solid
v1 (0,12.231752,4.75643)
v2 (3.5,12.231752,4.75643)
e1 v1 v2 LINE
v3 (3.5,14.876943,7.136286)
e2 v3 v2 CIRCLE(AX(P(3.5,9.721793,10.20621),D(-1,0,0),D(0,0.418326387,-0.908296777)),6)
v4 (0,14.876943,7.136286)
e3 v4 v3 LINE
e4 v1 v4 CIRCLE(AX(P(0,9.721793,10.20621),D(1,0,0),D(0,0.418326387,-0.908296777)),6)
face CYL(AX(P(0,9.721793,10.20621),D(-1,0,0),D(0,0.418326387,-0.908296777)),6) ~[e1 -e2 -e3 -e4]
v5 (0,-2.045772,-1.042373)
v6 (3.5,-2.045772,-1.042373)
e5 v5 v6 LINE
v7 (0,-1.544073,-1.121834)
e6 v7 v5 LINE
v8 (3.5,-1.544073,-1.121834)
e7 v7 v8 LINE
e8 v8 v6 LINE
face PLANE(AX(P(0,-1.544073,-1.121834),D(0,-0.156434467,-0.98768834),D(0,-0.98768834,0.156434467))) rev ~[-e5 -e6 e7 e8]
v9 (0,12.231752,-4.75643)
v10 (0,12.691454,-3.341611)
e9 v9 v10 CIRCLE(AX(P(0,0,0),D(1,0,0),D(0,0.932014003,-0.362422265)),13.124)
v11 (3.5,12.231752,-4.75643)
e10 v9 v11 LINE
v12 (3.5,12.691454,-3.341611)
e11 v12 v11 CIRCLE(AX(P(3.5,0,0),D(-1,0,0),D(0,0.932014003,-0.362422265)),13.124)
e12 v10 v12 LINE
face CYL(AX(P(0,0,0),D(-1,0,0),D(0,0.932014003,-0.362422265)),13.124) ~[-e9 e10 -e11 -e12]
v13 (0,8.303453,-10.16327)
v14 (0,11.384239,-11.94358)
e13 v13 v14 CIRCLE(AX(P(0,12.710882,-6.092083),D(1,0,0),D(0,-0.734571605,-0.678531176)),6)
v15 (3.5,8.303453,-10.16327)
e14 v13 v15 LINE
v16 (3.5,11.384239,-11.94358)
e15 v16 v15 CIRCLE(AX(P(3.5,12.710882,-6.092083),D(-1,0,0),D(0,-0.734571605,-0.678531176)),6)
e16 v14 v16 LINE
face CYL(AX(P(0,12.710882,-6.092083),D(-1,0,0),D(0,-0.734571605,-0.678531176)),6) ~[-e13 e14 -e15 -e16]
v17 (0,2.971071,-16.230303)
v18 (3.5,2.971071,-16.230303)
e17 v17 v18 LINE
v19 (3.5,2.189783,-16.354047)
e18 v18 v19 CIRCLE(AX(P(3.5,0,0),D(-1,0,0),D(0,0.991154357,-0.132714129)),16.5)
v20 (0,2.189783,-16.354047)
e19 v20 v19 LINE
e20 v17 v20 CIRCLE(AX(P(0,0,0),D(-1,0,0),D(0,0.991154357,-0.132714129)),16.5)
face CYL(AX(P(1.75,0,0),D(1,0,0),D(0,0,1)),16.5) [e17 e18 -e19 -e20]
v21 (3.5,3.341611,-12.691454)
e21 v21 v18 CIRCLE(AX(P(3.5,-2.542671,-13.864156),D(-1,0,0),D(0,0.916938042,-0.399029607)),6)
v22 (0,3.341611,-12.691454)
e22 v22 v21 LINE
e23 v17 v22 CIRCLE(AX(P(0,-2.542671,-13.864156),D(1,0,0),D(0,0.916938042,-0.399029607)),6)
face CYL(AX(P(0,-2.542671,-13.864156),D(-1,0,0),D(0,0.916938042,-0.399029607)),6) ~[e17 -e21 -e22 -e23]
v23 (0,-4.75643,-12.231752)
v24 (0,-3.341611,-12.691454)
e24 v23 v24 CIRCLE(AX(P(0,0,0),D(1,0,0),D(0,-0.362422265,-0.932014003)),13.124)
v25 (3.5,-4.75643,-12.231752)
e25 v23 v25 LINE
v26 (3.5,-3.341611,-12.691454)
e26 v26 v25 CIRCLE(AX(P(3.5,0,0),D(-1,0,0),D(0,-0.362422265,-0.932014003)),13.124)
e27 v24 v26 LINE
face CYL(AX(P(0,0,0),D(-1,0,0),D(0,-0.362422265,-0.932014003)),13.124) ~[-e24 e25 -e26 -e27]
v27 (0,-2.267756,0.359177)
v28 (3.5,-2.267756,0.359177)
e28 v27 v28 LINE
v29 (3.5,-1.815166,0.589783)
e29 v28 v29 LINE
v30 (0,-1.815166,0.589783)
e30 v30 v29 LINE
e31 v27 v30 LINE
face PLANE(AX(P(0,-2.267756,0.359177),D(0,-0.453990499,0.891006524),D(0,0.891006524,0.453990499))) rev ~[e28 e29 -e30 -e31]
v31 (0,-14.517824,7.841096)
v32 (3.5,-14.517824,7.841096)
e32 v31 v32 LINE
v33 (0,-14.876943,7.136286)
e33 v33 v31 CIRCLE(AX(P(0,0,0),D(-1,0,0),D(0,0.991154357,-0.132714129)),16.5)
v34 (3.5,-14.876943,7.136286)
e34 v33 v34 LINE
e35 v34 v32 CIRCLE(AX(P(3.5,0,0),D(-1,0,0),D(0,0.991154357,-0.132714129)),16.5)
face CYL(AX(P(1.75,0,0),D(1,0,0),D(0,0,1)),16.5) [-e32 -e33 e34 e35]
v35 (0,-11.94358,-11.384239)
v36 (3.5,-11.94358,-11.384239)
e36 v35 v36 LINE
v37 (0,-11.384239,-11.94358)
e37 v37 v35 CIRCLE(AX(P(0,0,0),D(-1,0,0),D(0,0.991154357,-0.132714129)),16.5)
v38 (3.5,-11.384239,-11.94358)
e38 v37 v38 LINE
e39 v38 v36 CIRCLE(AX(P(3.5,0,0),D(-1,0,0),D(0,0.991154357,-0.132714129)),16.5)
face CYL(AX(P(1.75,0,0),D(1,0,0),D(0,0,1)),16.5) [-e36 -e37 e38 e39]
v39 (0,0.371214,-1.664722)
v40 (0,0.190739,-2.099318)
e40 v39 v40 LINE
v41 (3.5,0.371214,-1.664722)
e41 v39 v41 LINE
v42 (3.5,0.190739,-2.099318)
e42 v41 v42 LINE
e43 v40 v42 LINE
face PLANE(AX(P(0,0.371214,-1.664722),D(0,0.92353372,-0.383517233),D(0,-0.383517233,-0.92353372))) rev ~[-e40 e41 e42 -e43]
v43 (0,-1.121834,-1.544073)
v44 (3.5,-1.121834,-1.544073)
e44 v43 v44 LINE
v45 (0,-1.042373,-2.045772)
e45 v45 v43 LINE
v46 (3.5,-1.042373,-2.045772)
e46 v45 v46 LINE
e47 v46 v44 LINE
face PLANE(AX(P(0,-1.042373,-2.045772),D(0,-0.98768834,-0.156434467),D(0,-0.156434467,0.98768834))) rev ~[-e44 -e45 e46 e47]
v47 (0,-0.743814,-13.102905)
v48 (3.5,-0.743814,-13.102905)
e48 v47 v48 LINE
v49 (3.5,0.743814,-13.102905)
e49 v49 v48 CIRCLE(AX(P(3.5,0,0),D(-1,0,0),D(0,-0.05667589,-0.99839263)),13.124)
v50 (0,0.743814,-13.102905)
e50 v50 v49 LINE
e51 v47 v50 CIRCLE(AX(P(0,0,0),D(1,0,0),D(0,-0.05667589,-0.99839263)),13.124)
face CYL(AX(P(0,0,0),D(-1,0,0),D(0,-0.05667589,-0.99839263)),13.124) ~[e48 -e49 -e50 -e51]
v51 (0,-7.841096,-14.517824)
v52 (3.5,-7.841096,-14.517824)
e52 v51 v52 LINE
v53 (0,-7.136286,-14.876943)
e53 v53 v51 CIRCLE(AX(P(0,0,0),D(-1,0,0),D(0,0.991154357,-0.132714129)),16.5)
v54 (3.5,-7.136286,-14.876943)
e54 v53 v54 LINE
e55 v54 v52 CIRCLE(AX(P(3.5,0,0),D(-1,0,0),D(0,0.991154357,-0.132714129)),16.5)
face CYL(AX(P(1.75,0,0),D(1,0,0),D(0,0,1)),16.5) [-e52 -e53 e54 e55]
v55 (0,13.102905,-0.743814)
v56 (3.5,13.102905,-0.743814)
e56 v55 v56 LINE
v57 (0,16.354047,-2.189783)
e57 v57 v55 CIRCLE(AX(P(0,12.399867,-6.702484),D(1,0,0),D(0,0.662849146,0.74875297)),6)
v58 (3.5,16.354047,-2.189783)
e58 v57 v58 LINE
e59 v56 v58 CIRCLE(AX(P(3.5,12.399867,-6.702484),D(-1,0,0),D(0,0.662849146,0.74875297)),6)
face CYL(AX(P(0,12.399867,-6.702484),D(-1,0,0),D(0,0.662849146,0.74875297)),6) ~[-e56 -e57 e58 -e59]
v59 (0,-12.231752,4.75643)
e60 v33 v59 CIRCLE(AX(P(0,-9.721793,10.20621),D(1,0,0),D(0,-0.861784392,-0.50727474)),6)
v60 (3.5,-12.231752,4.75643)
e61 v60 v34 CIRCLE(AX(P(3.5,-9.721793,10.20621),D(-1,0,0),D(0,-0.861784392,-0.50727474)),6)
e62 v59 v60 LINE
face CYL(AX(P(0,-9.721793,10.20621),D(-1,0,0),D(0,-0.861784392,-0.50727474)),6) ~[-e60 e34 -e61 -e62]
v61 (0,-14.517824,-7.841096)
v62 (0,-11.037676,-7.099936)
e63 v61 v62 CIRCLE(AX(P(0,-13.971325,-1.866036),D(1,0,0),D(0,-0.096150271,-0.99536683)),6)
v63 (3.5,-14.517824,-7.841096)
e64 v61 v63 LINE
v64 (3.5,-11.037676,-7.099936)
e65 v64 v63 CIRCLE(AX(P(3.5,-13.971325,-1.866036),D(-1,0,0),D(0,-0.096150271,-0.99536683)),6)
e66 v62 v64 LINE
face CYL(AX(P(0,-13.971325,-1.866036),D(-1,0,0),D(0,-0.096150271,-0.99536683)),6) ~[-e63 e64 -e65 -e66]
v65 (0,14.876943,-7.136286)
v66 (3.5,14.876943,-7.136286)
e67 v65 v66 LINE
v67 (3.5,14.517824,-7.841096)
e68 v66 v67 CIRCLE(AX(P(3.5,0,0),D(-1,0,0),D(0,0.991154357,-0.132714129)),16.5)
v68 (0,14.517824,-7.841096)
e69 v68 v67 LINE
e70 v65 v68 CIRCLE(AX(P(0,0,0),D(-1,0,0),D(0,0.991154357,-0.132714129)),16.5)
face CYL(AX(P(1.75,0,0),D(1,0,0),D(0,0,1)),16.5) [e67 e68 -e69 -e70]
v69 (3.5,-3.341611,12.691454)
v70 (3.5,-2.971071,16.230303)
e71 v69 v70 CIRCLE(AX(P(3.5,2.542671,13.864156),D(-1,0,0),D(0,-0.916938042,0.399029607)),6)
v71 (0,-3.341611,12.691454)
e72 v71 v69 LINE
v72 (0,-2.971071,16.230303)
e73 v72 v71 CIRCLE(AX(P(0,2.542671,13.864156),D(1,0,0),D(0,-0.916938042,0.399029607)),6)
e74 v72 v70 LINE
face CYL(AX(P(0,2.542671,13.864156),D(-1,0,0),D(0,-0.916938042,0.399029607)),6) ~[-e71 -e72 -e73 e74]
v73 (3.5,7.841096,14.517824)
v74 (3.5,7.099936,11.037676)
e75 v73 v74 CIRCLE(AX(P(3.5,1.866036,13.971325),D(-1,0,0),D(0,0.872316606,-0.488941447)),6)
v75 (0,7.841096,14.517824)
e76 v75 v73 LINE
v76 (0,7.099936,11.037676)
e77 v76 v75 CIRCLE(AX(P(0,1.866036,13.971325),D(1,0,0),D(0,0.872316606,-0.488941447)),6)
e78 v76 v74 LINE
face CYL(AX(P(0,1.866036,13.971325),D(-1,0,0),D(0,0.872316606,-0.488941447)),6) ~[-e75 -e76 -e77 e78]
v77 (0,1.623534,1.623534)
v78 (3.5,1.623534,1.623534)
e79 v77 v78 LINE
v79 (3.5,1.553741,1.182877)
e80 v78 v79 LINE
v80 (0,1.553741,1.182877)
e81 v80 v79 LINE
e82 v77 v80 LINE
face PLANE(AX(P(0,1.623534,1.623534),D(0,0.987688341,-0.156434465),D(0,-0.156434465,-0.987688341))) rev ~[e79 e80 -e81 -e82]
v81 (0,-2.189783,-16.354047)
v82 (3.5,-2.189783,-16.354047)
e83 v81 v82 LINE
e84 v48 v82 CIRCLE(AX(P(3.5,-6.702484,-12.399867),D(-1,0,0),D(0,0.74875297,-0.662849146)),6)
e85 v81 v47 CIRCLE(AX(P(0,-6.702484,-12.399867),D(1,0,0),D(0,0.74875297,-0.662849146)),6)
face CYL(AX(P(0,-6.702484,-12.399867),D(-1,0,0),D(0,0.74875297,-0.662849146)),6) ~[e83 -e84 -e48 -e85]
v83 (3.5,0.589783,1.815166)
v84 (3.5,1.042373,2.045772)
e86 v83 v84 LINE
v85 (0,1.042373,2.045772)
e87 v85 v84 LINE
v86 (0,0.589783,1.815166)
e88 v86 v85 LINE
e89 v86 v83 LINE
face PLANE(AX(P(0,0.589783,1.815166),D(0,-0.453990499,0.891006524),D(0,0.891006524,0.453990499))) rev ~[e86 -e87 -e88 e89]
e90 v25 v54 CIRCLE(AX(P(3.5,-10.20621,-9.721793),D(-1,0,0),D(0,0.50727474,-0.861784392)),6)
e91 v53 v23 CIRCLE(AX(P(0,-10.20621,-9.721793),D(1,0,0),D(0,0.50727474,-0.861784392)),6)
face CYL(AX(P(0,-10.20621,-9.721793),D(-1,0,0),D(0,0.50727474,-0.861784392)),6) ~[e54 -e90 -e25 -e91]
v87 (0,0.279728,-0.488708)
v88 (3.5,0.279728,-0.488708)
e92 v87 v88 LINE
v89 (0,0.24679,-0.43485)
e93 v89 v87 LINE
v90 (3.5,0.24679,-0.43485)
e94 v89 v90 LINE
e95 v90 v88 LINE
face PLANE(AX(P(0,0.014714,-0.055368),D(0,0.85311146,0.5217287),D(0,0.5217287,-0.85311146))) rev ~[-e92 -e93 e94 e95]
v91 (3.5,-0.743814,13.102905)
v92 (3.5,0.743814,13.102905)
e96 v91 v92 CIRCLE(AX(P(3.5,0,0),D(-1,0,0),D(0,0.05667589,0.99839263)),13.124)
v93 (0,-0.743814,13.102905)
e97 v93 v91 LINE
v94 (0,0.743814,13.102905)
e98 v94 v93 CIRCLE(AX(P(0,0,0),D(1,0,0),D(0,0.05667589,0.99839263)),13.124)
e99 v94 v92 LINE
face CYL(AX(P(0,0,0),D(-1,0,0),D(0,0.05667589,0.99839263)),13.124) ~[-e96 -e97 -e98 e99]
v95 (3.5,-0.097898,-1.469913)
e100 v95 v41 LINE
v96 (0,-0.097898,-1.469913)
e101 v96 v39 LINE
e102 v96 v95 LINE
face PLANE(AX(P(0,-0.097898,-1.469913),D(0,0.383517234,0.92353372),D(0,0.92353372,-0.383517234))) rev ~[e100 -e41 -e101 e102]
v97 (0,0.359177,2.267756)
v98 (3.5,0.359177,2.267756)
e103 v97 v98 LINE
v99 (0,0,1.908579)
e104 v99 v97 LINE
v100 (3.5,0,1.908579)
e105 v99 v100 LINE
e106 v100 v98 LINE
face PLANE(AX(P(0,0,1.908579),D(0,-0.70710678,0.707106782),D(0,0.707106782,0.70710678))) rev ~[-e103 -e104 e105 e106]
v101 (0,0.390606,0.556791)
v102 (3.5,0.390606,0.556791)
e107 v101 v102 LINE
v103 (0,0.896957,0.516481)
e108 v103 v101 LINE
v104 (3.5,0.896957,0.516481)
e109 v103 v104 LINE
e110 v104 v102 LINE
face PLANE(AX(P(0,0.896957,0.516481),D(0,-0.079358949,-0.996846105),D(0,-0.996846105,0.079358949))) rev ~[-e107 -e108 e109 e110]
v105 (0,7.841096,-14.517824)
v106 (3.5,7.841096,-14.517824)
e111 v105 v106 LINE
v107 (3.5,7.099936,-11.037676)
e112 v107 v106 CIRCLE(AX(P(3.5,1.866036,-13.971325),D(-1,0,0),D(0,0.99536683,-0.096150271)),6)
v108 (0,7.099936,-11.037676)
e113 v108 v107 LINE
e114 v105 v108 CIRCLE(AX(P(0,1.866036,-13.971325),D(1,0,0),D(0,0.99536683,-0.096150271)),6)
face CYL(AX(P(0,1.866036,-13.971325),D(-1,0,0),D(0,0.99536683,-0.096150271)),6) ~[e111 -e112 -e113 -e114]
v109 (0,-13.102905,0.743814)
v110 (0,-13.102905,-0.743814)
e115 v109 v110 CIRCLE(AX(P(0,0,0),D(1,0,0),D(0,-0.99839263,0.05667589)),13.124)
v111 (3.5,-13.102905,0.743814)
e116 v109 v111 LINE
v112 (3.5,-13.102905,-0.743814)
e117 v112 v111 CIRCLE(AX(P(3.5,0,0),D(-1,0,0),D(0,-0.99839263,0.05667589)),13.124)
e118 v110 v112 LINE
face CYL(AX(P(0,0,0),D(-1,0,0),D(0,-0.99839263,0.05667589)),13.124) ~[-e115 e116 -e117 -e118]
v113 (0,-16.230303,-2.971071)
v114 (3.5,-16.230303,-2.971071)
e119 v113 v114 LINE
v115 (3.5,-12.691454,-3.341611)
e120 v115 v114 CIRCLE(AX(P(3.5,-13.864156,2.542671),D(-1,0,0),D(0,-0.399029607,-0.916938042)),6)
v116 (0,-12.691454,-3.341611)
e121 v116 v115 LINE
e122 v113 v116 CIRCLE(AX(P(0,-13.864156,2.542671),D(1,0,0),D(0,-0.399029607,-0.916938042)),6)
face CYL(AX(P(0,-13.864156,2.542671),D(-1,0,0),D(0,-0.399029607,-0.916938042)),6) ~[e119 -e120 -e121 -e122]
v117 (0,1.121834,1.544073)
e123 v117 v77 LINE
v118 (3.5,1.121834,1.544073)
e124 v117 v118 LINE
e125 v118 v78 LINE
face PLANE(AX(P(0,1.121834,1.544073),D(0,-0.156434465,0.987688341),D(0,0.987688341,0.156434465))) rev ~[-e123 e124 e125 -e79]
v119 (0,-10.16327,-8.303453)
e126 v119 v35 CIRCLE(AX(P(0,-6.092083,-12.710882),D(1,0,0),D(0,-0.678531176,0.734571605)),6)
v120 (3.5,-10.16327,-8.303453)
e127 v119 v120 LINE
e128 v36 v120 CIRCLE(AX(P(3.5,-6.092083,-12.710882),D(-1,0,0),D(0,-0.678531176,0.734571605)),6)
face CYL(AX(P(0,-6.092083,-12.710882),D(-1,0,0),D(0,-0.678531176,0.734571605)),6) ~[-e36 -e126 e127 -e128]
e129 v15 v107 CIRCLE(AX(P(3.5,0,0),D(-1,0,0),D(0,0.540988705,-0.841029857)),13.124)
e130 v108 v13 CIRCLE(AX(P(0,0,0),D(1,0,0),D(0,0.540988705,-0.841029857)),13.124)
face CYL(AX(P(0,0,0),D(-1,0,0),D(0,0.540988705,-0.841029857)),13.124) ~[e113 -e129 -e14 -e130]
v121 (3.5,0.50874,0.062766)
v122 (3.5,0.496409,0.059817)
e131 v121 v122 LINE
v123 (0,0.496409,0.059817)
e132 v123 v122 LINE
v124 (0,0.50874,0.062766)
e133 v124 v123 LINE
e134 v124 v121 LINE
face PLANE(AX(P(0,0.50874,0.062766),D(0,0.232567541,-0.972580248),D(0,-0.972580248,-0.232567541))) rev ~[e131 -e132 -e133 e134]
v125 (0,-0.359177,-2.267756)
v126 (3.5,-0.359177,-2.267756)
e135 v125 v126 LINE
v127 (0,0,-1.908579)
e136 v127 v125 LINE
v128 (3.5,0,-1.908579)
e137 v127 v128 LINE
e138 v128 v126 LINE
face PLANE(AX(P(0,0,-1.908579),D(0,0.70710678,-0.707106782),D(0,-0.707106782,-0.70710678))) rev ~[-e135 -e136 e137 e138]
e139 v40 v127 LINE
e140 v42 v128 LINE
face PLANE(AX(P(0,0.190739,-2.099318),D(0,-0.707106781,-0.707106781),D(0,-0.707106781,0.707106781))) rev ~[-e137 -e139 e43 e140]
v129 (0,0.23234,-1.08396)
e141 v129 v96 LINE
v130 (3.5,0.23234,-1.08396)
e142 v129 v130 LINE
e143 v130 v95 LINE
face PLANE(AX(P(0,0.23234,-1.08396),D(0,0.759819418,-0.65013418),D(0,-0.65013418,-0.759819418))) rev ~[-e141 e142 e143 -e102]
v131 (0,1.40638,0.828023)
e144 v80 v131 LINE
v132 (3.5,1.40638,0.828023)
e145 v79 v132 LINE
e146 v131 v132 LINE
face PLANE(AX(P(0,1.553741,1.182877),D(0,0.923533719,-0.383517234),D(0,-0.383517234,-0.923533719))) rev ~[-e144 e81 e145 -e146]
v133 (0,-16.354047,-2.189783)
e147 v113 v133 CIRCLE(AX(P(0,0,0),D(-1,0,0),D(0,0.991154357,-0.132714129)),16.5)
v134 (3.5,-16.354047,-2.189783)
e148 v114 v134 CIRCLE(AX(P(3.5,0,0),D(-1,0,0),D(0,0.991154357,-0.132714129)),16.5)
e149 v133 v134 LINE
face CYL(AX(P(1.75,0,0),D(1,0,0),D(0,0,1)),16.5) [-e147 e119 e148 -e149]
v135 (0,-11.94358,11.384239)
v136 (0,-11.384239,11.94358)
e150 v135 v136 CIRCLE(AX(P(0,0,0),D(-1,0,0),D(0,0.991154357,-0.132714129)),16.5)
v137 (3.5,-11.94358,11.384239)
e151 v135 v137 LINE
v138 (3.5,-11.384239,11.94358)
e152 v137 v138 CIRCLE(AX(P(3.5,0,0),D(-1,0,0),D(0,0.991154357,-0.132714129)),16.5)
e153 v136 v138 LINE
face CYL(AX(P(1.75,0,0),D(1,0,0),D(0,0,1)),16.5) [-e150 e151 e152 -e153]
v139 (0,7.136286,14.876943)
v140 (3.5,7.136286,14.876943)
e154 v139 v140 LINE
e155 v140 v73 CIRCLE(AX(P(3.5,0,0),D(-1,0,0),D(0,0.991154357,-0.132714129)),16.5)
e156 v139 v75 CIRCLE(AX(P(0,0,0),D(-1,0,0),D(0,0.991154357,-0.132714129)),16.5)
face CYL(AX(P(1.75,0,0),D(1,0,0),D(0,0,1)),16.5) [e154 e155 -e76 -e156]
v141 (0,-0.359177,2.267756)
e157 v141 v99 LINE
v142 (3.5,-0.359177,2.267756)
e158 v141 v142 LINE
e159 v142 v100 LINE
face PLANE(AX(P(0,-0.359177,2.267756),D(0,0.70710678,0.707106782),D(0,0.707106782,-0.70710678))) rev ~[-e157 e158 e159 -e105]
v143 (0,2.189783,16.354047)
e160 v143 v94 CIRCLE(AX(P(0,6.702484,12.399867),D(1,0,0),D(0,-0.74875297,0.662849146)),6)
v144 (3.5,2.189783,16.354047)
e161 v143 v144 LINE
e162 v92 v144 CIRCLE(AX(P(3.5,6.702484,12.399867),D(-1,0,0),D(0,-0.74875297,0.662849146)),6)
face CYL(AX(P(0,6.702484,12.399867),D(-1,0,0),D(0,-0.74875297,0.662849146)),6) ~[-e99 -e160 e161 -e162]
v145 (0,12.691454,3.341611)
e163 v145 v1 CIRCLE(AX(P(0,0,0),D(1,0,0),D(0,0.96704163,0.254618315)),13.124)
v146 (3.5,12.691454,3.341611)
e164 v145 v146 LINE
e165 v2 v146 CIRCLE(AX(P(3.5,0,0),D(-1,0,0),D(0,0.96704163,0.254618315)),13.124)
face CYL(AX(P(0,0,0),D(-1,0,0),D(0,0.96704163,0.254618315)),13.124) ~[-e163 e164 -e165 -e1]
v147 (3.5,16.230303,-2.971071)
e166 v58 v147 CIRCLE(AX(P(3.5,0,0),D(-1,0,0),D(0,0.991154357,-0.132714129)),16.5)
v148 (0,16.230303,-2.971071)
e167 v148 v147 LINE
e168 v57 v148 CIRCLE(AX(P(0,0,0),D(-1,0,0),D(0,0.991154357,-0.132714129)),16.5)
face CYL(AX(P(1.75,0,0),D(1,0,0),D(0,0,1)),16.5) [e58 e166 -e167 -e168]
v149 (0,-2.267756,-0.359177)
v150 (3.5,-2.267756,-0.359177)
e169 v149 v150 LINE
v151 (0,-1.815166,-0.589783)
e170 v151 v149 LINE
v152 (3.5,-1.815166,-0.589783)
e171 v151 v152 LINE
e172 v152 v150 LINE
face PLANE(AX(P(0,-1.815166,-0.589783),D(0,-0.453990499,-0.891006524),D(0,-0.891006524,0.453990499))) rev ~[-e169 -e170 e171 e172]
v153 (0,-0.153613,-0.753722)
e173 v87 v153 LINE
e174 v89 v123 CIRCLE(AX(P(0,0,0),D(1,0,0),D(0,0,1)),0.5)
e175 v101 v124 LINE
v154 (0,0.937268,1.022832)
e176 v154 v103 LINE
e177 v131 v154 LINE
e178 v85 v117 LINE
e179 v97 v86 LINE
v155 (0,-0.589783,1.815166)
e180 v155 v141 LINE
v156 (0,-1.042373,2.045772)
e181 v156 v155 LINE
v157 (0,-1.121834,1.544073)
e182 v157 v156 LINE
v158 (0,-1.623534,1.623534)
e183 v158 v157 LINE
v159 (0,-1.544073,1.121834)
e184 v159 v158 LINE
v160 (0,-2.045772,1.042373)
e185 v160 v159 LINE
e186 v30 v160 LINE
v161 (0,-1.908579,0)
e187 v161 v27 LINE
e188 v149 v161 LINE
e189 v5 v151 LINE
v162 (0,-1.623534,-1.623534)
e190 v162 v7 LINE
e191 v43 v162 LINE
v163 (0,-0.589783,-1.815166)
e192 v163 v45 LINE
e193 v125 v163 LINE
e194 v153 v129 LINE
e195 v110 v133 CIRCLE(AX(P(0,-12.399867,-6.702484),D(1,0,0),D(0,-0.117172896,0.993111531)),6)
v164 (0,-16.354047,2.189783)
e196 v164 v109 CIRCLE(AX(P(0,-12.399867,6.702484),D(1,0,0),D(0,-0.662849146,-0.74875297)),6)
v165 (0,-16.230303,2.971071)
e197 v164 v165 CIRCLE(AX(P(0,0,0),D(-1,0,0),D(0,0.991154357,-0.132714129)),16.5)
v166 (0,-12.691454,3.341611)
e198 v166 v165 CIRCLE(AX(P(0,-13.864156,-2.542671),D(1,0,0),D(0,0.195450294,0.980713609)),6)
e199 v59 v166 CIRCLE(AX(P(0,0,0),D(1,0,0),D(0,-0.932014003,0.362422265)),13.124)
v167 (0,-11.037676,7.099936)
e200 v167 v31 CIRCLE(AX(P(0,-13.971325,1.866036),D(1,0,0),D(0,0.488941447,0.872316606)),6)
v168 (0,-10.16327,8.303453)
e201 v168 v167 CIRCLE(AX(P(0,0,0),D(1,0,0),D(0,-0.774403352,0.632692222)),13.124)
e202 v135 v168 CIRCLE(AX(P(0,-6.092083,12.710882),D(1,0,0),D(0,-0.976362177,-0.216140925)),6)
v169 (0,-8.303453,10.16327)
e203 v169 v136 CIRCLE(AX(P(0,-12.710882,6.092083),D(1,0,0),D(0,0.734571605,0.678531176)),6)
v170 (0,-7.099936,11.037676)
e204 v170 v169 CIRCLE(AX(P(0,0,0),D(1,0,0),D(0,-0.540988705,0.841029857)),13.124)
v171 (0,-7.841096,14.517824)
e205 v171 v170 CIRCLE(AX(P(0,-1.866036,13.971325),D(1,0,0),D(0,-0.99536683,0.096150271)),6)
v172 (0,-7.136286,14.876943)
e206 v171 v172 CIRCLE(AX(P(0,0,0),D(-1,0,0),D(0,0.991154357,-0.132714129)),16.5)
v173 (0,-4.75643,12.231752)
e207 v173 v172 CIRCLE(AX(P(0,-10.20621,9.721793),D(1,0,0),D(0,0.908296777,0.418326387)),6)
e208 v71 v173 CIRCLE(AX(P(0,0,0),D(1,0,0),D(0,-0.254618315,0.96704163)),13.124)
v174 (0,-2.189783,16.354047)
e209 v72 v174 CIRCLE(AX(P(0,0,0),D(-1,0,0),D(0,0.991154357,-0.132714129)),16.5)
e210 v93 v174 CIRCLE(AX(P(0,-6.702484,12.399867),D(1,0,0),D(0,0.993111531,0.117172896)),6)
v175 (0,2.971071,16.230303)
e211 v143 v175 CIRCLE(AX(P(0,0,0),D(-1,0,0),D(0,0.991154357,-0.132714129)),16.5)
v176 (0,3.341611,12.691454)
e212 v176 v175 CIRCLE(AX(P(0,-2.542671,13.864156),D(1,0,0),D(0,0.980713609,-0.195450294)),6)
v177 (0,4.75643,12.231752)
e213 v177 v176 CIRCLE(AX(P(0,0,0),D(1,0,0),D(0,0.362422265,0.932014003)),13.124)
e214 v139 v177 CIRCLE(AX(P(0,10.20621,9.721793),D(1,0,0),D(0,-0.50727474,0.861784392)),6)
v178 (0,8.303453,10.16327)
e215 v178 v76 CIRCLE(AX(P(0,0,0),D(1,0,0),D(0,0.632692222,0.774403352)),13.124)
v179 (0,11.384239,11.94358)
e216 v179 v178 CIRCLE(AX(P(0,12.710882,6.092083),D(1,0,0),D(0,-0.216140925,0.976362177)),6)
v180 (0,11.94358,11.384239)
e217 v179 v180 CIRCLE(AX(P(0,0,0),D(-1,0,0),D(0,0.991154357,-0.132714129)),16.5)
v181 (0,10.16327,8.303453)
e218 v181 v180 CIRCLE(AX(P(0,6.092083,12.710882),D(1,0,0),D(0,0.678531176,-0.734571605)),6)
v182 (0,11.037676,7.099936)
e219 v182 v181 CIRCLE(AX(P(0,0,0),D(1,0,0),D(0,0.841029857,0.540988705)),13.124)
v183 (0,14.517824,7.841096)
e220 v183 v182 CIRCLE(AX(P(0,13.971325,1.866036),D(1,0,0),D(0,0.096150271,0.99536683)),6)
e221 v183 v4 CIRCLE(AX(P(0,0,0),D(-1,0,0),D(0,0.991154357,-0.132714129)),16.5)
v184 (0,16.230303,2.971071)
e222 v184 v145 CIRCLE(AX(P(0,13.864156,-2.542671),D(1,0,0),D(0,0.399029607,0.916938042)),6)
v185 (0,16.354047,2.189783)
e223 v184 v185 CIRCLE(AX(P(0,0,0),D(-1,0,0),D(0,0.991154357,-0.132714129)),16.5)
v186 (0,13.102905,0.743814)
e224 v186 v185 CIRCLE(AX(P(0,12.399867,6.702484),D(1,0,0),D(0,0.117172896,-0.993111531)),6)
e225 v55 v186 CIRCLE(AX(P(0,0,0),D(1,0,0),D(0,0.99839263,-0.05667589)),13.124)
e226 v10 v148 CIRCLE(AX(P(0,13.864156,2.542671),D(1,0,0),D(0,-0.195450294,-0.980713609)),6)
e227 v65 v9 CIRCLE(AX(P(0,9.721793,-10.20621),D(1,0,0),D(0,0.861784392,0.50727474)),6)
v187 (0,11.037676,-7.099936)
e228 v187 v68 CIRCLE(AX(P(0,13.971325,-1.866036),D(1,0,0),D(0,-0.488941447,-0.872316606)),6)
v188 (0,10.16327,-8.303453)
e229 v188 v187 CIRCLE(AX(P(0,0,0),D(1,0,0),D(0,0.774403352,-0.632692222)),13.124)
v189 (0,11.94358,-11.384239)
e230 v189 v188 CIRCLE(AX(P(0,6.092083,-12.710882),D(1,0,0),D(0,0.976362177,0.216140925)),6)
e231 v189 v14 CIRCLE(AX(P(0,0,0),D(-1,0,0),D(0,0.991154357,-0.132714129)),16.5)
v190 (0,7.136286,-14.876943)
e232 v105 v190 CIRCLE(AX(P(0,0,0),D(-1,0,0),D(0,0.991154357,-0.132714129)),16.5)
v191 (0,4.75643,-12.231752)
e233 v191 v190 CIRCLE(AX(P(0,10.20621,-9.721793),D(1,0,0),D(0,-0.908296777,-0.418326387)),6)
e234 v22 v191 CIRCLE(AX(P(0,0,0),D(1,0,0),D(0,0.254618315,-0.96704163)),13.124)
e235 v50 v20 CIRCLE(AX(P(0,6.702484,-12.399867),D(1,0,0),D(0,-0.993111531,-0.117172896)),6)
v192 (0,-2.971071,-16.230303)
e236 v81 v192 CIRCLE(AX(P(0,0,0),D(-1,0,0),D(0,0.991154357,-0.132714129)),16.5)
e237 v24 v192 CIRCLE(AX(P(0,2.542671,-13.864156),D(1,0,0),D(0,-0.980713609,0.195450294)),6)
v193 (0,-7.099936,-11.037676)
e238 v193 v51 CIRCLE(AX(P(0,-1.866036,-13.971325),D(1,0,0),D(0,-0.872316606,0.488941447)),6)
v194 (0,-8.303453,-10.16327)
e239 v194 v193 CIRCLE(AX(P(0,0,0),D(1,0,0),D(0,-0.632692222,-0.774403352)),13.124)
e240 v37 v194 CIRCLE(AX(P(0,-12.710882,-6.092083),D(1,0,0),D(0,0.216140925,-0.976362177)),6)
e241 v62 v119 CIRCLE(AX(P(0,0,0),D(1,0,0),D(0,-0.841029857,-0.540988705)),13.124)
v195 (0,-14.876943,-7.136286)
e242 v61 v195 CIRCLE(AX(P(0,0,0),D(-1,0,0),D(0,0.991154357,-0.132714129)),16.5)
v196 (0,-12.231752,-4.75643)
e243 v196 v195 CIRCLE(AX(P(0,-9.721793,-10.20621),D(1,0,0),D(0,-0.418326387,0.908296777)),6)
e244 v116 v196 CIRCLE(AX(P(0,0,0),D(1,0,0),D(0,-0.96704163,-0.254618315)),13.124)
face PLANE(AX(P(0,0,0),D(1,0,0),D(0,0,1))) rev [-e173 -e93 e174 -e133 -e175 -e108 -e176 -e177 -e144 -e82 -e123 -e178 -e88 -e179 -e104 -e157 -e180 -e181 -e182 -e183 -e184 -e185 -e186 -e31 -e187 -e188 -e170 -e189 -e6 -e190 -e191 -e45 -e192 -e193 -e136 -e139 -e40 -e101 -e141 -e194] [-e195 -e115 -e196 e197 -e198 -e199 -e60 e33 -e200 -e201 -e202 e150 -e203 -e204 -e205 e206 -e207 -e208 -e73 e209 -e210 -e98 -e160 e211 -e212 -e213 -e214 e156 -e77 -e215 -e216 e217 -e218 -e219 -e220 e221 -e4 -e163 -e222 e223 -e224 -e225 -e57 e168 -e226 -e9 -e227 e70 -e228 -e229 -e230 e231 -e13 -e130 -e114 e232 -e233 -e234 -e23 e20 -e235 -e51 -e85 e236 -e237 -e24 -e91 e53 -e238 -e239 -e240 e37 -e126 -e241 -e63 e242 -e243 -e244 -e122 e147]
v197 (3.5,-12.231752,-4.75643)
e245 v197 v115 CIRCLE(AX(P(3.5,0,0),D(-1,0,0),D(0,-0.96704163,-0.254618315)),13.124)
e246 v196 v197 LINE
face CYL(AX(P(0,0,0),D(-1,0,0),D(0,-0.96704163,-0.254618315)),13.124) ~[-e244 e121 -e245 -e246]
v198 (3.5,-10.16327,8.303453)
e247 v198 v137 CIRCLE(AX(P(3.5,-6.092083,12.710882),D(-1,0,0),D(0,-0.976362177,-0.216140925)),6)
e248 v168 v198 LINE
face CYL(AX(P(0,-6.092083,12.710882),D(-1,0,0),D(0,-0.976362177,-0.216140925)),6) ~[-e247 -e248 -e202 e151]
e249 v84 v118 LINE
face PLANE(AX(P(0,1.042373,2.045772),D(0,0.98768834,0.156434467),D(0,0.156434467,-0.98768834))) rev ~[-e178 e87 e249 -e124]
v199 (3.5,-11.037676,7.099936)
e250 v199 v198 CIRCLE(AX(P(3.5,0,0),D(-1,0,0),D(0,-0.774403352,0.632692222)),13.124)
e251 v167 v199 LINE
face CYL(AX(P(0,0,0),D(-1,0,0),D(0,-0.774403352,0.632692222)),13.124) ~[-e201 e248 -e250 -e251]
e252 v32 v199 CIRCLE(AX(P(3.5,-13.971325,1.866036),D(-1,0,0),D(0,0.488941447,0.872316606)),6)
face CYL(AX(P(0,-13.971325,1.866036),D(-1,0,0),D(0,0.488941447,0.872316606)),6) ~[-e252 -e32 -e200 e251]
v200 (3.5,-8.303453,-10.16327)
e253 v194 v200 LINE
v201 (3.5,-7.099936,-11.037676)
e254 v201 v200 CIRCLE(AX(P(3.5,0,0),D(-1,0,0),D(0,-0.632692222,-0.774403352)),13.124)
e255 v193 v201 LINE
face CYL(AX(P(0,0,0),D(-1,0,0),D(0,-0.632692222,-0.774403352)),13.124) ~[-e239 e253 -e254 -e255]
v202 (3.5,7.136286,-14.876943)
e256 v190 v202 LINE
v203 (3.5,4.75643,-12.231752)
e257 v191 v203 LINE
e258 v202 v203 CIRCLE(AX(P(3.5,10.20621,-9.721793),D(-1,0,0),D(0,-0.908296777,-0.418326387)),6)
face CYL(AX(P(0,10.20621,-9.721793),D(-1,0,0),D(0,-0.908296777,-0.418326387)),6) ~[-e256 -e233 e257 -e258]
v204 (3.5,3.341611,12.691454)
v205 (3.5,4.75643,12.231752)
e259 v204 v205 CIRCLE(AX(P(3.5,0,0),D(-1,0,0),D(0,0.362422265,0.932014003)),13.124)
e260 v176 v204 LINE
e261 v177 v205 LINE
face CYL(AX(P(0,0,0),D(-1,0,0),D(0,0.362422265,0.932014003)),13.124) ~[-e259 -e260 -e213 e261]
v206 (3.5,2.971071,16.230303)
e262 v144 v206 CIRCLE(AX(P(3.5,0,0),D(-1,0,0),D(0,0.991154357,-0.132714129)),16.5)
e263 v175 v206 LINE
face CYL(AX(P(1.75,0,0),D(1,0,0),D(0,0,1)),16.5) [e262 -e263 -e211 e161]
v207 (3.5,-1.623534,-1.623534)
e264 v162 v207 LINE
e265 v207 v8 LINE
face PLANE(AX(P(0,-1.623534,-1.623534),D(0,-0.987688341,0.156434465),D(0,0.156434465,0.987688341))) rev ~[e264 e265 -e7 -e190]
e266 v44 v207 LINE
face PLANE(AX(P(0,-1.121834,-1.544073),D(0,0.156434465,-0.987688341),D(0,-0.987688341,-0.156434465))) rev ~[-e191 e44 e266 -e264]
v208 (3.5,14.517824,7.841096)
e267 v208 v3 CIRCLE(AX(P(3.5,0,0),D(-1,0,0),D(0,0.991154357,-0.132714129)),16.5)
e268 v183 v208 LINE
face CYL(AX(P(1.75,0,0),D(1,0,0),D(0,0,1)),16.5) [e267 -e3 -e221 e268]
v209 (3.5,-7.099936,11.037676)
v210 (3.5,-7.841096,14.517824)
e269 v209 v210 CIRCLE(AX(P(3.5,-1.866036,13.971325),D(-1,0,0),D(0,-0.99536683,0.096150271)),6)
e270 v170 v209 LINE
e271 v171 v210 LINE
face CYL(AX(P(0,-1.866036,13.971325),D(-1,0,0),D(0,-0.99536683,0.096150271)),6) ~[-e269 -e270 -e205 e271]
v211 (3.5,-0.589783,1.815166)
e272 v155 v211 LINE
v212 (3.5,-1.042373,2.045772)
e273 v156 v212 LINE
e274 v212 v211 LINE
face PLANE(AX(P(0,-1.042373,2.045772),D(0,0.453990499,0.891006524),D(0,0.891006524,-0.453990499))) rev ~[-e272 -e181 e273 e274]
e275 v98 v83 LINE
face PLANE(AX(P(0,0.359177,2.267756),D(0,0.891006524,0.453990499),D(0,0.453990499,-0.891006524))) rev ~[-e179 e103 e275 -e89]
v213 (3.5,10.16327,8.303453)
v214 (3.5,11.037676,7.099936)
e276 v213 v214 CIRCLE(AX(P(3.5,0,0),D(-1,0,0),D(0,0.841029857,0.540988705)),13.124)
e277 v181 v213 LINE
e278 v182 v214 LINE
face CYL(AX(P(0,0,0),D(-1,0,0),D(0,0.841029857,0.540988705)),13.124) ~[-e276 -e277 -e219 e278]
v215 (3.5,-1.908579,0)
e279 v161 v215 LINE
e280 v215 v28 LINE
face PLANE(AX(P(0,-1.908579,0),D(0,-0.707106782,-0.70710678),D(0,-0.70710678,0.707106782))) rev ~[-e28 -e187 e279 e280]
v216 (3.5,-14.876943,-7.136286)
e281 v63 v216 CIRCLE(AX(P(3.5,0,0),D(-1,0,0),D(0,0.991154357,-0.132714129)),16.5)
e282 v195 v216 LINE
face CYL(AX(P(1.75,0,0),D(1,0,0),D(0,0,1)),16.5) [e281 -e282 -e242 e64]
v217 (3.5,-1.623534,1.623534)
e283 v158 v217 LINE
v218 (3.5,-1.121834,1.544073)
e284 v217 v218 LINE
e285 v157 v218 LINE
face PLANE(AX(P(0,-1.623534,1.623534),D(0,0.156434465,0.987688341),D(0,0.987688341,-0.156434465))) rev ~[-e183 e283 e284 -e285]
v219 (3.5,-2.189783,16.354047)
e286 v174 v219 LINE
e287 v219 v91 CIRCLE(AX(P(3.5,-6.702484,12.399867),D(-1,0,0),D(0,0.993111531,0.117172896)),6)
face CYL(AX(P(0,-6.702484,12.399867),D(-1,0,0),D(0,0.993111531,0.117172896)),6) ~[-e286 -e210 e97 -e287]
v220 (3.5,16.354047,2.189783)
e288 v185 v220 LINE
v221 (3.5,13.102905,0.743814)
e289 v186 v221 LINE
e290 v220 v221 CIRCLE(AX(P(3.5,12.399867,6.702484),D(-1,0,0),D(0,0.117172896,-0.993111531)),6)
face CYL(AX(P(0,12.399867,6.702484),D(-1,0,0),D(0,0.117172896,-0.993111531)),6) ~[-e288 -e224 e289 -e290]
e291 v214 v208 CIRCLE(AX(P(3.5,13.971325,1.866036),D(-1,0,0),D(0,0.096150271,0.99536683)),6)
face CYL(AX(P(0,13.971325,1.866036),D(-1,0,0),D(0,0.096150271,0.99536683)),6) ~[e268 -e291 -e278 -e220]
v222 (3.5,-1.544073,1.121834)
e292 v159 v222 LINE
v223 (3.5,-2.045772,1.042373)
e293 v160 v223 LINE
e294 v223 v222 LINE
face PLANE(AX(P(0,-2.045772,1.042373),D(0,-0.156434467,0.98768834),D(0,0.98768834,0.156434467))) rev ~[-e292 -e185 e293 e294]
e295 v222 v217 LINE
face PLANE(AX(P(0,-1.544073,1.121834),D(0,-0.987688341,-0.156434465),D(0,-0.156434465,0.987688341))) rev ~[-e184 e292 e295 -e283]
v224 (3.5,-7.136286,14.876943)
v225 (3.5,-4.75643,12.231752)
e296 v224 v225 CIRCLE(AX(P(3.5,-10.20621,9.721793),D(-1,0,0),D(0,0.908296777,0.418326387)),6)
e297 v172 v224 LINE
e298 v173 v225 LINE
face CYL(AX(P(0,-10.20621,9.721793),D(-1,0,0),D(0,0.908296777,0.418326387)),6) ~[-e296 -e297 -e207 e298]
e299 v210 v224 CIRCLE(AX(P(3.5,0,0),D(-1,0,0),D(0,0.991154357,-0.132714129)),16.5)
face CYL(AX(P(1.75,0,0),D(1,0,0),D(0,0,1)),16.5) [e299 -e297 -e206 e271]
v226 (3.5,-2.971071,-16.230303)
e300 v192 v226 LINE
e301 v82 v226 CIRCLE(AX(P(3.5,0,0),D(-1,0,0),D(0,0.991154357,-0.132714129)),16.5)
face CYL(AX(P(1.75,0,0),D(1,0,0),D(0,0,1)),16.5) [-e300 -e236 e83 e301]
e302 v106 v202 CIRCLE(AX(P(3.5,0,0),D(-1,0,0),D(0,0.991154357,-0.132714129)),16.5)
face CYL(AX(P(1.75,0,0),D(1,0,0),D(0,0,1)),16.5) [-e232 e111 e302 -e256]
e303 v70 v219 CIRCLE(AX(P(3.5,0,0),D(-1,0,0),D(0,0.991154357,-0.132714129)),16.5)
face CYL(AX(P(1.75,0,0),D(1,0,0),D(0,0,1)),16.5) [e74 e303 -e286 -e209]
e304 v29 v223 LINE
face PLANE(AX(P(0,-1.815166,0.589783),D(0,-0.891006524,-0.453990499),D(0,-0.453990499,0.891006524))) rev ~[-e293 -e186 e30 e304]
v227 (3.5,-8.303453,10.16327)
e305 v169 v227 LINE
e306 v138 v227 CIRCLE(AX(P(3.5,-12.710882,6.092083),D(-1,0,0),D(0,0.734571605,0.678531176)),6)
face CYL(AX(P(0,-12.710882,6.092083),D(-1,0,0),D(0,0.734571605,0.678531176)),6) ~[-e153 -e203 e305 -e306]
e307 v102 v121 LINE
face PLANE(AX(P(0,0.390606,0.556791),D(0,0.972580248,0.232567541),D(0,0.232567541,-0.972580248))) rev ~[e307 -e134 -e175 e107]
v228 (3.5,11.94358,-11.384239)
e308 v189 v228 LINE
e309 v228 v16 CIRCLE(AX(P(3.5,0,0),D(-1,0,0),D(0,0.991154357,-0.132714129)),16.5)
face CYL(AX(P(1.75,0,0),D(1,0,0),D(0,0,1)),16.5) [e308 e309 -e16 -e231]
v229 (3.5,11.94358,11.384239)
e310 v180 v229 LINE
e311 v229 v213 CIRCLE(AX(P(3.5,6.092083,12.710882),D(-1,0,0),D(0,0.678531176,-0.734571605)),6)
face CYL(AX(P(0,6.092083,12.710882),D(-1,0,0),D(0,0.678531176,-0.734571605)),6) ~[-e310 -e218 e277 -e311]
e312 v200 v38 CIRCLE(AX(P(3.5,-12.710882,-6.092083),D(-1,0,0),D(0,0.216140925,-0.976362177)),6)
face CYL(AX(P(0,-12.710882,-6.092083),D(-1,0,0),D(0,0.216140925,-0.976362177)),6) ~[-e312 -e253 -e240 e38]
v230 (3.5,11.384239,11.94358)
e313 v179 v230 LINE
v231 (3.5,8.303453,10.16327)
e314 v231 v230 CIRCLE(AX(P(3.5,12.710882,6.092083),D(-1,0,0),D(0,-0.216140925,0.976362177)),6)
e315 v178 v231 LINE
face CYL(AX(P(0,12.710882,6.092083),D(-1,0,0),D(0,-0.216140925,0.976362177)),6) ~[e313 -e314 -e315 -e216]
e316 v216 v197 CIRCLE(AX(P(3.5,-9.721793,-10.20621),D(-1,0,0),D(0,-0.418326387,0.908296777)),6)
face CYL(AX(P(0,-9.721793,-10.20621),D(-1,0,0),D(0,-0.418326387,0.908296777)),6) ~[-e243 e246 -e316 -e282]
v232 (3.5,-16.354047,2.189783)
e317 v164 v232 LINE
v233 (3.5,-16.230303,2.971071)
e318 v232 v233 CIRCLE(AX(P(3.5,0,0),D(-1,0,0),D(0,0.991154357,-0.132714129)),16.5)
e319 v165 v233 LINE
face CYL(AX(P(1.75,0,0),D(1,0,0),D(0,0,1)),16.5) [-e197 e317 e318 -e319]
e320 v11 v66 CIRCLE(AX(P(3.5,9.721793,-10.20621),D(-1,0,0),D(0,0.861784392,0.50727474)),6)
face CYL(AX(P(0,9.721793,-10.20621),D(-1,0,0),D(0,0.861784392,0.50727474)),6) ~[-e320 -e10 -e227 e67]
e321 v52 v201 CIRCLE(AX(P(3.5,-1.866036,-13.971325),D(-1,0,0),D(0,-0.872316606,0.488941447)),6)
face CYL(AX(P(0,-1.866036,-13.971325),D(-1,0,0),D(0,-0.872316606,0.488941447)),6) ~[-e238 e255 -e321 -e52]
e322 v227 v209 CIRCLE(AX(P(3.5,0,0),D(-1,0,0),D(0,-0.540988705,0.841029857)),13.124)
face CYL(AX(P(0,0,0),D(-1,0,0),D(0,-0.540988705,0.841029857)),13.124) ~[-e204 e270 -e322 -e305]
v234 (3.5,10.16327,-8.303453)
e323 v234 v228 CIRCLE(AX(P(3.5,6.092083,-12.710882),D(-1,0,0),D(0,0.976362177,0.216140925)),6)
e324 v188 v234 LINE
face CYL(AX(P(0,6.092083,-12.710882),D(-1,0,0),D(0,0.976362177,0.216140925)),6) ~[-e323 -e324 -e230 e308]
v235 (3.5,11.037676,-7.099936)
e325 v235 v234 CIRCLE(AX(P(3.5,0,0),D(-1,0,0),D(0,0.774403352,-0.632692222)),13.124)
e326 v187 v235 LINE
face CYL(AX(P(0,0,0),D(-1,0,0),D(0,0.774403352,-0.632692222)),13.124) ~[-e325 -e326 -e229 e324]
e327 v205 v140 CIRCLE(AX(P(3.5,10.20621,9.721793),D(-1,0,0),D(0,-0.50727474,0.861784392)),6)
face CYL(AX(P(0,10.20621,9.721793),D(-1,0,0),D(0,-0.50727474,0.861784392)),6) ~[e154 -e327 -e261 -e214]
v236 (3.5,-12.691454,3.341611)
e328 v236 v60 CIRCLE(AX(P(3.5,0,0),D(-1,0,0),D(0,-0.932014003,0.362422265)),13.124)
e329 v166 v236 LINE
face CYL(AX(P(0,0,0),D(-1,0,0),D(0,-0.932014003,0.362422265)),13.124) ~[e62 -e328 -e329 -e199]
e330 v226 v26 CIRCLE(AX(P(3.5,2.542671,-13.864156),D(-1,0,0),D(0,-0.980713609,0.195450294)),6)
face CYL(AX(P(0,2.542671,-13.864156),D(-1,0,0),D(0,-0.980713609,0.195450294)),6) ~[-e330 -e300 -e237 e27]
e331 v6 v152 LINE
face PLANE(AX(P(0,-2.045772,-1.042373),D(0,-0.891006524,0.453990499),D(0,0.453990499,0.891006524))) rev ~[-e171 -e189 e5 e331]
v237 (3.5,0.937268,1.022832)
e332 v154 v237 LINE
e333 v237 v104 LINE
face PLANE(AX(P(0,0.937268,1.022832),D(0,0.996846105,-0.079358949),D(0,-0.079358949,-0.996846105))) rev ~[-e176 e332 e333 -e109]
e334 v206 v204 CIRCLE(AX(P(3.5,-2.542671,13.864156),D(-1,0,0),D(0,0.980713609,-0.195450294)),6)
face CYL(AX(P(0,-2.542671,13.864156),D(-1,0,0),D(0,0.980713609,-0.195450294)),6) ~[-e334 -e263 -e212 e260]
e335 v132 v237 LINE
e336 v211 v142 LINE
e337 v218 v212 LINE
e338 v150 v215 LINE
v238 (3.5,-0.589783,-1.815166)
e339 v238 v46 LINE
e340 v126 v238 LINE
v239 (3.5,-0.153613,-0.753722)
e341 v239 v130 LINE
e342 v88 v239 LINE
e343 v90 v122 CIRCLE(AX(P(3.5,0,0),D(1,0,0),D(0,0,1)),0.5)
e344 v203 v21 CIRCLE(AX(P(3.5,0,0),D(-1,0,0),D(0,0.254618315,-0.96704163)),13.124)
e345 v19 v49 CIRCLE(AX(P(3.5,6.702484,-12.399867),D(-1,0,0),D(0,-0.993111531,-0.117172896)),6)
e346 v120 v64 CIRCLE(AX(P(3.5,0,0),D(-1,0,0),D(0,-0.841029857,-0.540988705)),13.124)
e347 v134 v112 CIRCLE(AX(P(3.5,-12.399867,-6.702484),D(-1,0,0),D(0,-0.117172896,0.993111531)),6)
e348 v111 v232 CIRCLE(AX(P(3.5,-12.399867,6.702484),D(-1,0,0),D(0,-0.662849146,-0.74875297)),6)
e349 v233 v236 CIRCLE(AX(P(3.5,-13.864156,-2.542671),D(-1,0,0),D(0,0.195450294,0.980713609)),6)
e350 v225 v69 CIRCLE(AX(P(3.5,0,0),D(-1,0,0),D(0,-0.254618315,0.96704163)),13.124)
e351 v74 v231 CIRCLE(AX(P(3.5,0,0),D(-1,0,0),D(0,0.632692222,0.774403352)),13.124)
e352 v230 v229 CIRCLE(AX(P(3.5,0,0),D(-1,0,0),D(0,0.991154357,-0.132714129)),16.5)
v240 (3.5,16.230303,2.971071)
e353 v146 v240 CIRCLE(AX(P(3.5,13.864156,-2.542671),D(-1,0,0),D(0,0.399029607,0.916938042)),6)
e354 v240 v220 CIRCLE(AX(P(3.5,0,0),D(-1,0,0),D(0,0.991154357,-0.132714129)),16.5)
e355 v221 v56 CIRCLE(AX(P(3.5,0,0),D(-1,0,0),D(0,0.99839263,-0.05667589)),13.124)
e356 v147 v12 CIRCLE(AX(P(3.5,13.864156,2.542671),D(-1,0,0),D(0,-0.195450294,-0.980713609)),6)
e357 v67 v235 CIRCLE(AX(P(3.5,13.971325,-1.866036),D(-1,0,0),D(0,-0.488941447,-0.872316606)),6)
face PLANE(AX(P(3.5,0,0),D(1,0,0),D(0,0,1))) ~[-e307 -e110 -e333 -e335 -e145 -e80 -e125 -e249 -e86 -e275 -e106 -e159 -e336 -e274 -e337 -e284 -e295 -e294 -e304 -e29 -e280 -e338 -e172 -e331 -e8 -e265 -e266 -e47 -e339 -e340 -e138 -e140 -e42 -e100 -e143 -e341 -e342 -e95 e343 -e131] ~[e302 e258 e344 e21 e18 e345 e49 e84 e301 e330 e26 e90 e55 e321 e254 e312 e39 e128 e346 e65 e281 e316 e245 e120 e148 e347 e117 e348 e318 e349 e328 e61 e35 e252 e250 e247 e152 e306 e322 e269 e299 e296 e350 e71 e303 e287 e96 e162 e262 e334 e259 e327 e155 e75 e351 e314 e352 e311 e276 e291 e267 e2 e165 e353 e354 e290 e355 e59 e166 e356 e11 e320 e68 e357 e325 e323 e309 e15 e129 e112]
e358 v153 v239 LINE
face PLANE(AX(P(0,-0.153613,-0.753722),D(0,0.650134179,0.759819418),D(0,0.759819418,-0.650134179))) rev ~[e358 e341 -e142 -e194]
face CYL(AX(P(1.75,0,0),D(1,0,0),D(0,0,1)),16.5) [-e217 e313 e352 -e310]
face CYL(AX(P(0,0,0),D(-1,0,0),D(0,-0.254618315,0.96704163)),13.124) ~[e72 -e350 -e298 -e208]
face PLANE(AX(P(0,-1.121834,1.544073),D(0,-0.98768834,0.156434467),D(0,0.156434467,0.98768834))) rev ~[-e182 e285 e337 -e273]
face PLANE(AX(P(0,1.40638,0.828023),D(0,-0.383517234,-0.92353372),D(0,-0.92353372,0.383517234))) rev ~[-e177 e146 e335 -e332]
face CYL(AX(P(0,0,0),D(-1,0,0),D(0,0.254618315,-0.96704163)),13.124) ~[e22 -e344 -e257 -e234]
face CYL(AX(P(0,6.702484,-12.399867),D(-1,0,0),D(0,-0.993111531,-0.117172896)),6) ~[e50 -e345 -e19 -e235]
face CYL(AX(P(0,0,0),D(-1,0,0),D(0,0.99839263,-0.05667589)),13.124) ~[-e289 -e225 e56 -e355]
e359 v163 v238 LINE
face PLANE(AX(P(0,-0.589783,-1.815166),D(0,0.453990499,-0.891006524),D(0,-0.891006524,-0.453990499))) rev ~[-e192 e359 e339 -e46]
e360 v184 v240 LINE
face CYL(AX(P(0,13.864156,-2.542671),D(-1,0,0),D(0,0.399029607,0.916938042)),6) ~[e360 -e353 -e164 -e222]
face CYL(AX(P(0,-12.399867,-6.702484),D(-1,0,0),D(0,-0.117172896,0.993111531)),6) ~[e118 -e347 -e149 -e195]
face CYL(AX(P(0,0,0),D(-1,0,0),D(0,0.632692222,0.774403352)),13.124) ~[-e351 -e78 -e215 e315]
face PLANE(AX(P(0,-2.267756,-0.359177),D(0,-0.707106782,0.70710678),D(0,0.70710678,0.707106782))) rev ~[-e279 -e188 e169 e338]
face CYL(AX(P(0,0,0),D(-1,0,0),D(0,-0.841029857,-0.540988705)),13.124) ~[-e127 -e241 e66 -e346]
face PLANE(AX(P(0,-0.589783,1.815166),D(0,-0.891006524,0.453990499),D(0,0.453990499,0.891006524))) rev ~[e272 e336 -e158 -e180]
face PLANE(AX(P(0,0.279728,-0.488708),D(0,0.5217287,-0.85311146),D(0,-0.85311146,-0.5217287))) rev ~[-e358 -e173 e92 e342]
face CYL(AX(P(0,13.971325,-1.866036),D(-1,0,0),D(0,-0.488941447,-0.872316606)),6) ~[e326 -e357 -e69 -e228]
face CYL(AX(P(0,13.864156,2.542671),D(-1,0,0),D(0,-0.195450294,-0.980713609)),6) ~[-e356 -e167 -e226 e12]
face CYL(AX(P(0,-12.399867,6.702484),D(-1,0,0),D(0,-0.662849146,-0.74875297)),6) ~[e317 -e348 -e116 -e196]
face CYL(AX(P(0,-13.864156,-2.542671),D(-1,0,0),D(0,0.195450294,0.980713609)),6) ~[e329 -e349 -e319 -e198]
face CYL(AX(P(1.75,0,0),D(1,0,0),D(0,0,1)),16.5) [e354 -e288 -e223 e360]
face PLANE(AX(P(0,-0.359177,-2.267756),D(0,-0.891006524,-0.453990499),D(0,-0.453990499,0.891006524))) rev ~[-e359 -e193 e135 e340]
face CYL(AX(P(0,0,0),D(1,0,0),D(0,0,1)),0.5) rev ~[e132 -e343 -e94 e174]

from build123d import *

# Parameters (mm, degrees)
BASPROSKE_W        = 3.5
BASPROSKE_H        = 16.5
TOOTHCUT_DEPTH     = 24.595550428
TEETHCUTS_COUNT    = 20
TEETHCUTS_ANGLE    = 342
BORSKE_R           = 0.5
BORE_DEPTH         = 50.0000508
CUT_EXTRUDE1_DEPTH = 10


with BuildPart() as part:
    # BasProSke → Base-Revolve (revolve)
    with BuildSketch(Plane(origin=(0, 0, 0), x_dir=(1, 0, 0), z_dir=(0, 1, 0)), mode=Mode.PRIVATE) as base_revolve_sk:
        with Locations((1.75, 8.25)):
            Rectangle(BASPROSKE_W, BASPROSKE_H)
    revolve(base_revolve_sk.sketch.rotate(Axis((-10, 0, 0), (1, 0, 0)), 180), axis=Axis((-10, 0, 0), (1, 0, 0)))

    # TooCutSke → ToothCut (cut, through all)
    with BuildSketch(Plane(origin=(0, 0, 0), x_dir=(0, 0, -1), z_dir=(1, 0, 0))):
        with BuildLine():
            ThreePointArc((0.74381438, 13.102904875), (0, 13.124), (-0.74381438, 13.102904875))
            ThreePointArc((-0.74381438, 13.102904875), (-1.226473103, 14.852072512), (-2.209965745, 16.376962373))
            ThreePointArc((-2.209965745, 16.376962373), (0, 16.5254), (2.209965745, 16.376962373))
            ThreePointArc((2.209965745, 16.376962373), (1.226473103, 14.852072512), (0.74381438, 13.102904875))
        make_face()
    toothcut = extrude(amount=TOOTHCUT_DEPTH, mode=Mode.SUBTRACT)

    # TeethCuts: ToothCut ×20 about axis
    teethcuts_axis = Axis((-10, 0, 0), (1, 0, 0))
    for i in range(1, TEETHCUTS_COUNT):
        add(toothcut.rotate(teethcuts_axis, i * TEETHCUTS_ANGLE / (TEETHCUTS_COUNT - 1)), mode=Mode.SUBTRACT)

    # BorSke → Bore (cut, symmetric)
    with BuildSketch(Plane(origin=(0, 0, 0), x_dir=(0, 0, -1), z_dir=(1, 0, 0))):
        with Locations(Location((0, 0, 0), (0, 0, 180))):
            Circle(BORSKE_R)
    extrude(amount=BORE_DEPTH, both=True, mode=Mode.SUBTRACT)

    # Sketch1 → Cut-Extrude1 (cut)
    with BuildSketch(Plane.ZY):
        Polygon((-1.083959973, 0.232340082), (-1.46991278, -0.097897743), (-1.664721638, 0.37121429), (-2.099317612, 0.190738968), (-1.908578644, 0), (-2.267755891, -0.359177248), (-1.815166156, -0.589783236), (-2.045772144, -1.042372971), (-1.544072558, -1.12183438), (-1.623533966, -1.623533966), (-1.12183438, -1.544072558), (-1.042372971, -2.045772144), (-0.589783236, -1.815166156), (-0.359177248, -2.267755891), (0, -1.908578644), (0.359177248, -2.267755891), (0.589783236, -1.815166156), (1.042372971, -2.045772144), (1.12183438, -1.544072558), (1.623533966, -1.623533966), (1.544072558, -1.12183438), (2.045772144, -1.042372971), (1.815166156, -0.589783236), (2.267755891, -0.359177248), (1.908578644, 0), (2.267755891, 0.359177248), (1.815166156, 0.589783236), (2.045772144, 1.042372971), (1.544072558, 1.12183438), (1.623533966, 1.623533966), (1.182876639, 1.553740702), (0.828023136, 1.406380155), (1.022831994, 0.937268122), (0.516480691, 0.896957479), (0.556791334, 0.390606175), (0.062765954, 0.508739633), (-0.055367504, 0.014714252), (-0.488708315, 0.279728085), (-0.753722148, -0.153612726), align=None)
    extrude(amount=-CUT_EXTRUDE1_DEPTH, mode=Mode.SUBTRACT)


solid = part.part
